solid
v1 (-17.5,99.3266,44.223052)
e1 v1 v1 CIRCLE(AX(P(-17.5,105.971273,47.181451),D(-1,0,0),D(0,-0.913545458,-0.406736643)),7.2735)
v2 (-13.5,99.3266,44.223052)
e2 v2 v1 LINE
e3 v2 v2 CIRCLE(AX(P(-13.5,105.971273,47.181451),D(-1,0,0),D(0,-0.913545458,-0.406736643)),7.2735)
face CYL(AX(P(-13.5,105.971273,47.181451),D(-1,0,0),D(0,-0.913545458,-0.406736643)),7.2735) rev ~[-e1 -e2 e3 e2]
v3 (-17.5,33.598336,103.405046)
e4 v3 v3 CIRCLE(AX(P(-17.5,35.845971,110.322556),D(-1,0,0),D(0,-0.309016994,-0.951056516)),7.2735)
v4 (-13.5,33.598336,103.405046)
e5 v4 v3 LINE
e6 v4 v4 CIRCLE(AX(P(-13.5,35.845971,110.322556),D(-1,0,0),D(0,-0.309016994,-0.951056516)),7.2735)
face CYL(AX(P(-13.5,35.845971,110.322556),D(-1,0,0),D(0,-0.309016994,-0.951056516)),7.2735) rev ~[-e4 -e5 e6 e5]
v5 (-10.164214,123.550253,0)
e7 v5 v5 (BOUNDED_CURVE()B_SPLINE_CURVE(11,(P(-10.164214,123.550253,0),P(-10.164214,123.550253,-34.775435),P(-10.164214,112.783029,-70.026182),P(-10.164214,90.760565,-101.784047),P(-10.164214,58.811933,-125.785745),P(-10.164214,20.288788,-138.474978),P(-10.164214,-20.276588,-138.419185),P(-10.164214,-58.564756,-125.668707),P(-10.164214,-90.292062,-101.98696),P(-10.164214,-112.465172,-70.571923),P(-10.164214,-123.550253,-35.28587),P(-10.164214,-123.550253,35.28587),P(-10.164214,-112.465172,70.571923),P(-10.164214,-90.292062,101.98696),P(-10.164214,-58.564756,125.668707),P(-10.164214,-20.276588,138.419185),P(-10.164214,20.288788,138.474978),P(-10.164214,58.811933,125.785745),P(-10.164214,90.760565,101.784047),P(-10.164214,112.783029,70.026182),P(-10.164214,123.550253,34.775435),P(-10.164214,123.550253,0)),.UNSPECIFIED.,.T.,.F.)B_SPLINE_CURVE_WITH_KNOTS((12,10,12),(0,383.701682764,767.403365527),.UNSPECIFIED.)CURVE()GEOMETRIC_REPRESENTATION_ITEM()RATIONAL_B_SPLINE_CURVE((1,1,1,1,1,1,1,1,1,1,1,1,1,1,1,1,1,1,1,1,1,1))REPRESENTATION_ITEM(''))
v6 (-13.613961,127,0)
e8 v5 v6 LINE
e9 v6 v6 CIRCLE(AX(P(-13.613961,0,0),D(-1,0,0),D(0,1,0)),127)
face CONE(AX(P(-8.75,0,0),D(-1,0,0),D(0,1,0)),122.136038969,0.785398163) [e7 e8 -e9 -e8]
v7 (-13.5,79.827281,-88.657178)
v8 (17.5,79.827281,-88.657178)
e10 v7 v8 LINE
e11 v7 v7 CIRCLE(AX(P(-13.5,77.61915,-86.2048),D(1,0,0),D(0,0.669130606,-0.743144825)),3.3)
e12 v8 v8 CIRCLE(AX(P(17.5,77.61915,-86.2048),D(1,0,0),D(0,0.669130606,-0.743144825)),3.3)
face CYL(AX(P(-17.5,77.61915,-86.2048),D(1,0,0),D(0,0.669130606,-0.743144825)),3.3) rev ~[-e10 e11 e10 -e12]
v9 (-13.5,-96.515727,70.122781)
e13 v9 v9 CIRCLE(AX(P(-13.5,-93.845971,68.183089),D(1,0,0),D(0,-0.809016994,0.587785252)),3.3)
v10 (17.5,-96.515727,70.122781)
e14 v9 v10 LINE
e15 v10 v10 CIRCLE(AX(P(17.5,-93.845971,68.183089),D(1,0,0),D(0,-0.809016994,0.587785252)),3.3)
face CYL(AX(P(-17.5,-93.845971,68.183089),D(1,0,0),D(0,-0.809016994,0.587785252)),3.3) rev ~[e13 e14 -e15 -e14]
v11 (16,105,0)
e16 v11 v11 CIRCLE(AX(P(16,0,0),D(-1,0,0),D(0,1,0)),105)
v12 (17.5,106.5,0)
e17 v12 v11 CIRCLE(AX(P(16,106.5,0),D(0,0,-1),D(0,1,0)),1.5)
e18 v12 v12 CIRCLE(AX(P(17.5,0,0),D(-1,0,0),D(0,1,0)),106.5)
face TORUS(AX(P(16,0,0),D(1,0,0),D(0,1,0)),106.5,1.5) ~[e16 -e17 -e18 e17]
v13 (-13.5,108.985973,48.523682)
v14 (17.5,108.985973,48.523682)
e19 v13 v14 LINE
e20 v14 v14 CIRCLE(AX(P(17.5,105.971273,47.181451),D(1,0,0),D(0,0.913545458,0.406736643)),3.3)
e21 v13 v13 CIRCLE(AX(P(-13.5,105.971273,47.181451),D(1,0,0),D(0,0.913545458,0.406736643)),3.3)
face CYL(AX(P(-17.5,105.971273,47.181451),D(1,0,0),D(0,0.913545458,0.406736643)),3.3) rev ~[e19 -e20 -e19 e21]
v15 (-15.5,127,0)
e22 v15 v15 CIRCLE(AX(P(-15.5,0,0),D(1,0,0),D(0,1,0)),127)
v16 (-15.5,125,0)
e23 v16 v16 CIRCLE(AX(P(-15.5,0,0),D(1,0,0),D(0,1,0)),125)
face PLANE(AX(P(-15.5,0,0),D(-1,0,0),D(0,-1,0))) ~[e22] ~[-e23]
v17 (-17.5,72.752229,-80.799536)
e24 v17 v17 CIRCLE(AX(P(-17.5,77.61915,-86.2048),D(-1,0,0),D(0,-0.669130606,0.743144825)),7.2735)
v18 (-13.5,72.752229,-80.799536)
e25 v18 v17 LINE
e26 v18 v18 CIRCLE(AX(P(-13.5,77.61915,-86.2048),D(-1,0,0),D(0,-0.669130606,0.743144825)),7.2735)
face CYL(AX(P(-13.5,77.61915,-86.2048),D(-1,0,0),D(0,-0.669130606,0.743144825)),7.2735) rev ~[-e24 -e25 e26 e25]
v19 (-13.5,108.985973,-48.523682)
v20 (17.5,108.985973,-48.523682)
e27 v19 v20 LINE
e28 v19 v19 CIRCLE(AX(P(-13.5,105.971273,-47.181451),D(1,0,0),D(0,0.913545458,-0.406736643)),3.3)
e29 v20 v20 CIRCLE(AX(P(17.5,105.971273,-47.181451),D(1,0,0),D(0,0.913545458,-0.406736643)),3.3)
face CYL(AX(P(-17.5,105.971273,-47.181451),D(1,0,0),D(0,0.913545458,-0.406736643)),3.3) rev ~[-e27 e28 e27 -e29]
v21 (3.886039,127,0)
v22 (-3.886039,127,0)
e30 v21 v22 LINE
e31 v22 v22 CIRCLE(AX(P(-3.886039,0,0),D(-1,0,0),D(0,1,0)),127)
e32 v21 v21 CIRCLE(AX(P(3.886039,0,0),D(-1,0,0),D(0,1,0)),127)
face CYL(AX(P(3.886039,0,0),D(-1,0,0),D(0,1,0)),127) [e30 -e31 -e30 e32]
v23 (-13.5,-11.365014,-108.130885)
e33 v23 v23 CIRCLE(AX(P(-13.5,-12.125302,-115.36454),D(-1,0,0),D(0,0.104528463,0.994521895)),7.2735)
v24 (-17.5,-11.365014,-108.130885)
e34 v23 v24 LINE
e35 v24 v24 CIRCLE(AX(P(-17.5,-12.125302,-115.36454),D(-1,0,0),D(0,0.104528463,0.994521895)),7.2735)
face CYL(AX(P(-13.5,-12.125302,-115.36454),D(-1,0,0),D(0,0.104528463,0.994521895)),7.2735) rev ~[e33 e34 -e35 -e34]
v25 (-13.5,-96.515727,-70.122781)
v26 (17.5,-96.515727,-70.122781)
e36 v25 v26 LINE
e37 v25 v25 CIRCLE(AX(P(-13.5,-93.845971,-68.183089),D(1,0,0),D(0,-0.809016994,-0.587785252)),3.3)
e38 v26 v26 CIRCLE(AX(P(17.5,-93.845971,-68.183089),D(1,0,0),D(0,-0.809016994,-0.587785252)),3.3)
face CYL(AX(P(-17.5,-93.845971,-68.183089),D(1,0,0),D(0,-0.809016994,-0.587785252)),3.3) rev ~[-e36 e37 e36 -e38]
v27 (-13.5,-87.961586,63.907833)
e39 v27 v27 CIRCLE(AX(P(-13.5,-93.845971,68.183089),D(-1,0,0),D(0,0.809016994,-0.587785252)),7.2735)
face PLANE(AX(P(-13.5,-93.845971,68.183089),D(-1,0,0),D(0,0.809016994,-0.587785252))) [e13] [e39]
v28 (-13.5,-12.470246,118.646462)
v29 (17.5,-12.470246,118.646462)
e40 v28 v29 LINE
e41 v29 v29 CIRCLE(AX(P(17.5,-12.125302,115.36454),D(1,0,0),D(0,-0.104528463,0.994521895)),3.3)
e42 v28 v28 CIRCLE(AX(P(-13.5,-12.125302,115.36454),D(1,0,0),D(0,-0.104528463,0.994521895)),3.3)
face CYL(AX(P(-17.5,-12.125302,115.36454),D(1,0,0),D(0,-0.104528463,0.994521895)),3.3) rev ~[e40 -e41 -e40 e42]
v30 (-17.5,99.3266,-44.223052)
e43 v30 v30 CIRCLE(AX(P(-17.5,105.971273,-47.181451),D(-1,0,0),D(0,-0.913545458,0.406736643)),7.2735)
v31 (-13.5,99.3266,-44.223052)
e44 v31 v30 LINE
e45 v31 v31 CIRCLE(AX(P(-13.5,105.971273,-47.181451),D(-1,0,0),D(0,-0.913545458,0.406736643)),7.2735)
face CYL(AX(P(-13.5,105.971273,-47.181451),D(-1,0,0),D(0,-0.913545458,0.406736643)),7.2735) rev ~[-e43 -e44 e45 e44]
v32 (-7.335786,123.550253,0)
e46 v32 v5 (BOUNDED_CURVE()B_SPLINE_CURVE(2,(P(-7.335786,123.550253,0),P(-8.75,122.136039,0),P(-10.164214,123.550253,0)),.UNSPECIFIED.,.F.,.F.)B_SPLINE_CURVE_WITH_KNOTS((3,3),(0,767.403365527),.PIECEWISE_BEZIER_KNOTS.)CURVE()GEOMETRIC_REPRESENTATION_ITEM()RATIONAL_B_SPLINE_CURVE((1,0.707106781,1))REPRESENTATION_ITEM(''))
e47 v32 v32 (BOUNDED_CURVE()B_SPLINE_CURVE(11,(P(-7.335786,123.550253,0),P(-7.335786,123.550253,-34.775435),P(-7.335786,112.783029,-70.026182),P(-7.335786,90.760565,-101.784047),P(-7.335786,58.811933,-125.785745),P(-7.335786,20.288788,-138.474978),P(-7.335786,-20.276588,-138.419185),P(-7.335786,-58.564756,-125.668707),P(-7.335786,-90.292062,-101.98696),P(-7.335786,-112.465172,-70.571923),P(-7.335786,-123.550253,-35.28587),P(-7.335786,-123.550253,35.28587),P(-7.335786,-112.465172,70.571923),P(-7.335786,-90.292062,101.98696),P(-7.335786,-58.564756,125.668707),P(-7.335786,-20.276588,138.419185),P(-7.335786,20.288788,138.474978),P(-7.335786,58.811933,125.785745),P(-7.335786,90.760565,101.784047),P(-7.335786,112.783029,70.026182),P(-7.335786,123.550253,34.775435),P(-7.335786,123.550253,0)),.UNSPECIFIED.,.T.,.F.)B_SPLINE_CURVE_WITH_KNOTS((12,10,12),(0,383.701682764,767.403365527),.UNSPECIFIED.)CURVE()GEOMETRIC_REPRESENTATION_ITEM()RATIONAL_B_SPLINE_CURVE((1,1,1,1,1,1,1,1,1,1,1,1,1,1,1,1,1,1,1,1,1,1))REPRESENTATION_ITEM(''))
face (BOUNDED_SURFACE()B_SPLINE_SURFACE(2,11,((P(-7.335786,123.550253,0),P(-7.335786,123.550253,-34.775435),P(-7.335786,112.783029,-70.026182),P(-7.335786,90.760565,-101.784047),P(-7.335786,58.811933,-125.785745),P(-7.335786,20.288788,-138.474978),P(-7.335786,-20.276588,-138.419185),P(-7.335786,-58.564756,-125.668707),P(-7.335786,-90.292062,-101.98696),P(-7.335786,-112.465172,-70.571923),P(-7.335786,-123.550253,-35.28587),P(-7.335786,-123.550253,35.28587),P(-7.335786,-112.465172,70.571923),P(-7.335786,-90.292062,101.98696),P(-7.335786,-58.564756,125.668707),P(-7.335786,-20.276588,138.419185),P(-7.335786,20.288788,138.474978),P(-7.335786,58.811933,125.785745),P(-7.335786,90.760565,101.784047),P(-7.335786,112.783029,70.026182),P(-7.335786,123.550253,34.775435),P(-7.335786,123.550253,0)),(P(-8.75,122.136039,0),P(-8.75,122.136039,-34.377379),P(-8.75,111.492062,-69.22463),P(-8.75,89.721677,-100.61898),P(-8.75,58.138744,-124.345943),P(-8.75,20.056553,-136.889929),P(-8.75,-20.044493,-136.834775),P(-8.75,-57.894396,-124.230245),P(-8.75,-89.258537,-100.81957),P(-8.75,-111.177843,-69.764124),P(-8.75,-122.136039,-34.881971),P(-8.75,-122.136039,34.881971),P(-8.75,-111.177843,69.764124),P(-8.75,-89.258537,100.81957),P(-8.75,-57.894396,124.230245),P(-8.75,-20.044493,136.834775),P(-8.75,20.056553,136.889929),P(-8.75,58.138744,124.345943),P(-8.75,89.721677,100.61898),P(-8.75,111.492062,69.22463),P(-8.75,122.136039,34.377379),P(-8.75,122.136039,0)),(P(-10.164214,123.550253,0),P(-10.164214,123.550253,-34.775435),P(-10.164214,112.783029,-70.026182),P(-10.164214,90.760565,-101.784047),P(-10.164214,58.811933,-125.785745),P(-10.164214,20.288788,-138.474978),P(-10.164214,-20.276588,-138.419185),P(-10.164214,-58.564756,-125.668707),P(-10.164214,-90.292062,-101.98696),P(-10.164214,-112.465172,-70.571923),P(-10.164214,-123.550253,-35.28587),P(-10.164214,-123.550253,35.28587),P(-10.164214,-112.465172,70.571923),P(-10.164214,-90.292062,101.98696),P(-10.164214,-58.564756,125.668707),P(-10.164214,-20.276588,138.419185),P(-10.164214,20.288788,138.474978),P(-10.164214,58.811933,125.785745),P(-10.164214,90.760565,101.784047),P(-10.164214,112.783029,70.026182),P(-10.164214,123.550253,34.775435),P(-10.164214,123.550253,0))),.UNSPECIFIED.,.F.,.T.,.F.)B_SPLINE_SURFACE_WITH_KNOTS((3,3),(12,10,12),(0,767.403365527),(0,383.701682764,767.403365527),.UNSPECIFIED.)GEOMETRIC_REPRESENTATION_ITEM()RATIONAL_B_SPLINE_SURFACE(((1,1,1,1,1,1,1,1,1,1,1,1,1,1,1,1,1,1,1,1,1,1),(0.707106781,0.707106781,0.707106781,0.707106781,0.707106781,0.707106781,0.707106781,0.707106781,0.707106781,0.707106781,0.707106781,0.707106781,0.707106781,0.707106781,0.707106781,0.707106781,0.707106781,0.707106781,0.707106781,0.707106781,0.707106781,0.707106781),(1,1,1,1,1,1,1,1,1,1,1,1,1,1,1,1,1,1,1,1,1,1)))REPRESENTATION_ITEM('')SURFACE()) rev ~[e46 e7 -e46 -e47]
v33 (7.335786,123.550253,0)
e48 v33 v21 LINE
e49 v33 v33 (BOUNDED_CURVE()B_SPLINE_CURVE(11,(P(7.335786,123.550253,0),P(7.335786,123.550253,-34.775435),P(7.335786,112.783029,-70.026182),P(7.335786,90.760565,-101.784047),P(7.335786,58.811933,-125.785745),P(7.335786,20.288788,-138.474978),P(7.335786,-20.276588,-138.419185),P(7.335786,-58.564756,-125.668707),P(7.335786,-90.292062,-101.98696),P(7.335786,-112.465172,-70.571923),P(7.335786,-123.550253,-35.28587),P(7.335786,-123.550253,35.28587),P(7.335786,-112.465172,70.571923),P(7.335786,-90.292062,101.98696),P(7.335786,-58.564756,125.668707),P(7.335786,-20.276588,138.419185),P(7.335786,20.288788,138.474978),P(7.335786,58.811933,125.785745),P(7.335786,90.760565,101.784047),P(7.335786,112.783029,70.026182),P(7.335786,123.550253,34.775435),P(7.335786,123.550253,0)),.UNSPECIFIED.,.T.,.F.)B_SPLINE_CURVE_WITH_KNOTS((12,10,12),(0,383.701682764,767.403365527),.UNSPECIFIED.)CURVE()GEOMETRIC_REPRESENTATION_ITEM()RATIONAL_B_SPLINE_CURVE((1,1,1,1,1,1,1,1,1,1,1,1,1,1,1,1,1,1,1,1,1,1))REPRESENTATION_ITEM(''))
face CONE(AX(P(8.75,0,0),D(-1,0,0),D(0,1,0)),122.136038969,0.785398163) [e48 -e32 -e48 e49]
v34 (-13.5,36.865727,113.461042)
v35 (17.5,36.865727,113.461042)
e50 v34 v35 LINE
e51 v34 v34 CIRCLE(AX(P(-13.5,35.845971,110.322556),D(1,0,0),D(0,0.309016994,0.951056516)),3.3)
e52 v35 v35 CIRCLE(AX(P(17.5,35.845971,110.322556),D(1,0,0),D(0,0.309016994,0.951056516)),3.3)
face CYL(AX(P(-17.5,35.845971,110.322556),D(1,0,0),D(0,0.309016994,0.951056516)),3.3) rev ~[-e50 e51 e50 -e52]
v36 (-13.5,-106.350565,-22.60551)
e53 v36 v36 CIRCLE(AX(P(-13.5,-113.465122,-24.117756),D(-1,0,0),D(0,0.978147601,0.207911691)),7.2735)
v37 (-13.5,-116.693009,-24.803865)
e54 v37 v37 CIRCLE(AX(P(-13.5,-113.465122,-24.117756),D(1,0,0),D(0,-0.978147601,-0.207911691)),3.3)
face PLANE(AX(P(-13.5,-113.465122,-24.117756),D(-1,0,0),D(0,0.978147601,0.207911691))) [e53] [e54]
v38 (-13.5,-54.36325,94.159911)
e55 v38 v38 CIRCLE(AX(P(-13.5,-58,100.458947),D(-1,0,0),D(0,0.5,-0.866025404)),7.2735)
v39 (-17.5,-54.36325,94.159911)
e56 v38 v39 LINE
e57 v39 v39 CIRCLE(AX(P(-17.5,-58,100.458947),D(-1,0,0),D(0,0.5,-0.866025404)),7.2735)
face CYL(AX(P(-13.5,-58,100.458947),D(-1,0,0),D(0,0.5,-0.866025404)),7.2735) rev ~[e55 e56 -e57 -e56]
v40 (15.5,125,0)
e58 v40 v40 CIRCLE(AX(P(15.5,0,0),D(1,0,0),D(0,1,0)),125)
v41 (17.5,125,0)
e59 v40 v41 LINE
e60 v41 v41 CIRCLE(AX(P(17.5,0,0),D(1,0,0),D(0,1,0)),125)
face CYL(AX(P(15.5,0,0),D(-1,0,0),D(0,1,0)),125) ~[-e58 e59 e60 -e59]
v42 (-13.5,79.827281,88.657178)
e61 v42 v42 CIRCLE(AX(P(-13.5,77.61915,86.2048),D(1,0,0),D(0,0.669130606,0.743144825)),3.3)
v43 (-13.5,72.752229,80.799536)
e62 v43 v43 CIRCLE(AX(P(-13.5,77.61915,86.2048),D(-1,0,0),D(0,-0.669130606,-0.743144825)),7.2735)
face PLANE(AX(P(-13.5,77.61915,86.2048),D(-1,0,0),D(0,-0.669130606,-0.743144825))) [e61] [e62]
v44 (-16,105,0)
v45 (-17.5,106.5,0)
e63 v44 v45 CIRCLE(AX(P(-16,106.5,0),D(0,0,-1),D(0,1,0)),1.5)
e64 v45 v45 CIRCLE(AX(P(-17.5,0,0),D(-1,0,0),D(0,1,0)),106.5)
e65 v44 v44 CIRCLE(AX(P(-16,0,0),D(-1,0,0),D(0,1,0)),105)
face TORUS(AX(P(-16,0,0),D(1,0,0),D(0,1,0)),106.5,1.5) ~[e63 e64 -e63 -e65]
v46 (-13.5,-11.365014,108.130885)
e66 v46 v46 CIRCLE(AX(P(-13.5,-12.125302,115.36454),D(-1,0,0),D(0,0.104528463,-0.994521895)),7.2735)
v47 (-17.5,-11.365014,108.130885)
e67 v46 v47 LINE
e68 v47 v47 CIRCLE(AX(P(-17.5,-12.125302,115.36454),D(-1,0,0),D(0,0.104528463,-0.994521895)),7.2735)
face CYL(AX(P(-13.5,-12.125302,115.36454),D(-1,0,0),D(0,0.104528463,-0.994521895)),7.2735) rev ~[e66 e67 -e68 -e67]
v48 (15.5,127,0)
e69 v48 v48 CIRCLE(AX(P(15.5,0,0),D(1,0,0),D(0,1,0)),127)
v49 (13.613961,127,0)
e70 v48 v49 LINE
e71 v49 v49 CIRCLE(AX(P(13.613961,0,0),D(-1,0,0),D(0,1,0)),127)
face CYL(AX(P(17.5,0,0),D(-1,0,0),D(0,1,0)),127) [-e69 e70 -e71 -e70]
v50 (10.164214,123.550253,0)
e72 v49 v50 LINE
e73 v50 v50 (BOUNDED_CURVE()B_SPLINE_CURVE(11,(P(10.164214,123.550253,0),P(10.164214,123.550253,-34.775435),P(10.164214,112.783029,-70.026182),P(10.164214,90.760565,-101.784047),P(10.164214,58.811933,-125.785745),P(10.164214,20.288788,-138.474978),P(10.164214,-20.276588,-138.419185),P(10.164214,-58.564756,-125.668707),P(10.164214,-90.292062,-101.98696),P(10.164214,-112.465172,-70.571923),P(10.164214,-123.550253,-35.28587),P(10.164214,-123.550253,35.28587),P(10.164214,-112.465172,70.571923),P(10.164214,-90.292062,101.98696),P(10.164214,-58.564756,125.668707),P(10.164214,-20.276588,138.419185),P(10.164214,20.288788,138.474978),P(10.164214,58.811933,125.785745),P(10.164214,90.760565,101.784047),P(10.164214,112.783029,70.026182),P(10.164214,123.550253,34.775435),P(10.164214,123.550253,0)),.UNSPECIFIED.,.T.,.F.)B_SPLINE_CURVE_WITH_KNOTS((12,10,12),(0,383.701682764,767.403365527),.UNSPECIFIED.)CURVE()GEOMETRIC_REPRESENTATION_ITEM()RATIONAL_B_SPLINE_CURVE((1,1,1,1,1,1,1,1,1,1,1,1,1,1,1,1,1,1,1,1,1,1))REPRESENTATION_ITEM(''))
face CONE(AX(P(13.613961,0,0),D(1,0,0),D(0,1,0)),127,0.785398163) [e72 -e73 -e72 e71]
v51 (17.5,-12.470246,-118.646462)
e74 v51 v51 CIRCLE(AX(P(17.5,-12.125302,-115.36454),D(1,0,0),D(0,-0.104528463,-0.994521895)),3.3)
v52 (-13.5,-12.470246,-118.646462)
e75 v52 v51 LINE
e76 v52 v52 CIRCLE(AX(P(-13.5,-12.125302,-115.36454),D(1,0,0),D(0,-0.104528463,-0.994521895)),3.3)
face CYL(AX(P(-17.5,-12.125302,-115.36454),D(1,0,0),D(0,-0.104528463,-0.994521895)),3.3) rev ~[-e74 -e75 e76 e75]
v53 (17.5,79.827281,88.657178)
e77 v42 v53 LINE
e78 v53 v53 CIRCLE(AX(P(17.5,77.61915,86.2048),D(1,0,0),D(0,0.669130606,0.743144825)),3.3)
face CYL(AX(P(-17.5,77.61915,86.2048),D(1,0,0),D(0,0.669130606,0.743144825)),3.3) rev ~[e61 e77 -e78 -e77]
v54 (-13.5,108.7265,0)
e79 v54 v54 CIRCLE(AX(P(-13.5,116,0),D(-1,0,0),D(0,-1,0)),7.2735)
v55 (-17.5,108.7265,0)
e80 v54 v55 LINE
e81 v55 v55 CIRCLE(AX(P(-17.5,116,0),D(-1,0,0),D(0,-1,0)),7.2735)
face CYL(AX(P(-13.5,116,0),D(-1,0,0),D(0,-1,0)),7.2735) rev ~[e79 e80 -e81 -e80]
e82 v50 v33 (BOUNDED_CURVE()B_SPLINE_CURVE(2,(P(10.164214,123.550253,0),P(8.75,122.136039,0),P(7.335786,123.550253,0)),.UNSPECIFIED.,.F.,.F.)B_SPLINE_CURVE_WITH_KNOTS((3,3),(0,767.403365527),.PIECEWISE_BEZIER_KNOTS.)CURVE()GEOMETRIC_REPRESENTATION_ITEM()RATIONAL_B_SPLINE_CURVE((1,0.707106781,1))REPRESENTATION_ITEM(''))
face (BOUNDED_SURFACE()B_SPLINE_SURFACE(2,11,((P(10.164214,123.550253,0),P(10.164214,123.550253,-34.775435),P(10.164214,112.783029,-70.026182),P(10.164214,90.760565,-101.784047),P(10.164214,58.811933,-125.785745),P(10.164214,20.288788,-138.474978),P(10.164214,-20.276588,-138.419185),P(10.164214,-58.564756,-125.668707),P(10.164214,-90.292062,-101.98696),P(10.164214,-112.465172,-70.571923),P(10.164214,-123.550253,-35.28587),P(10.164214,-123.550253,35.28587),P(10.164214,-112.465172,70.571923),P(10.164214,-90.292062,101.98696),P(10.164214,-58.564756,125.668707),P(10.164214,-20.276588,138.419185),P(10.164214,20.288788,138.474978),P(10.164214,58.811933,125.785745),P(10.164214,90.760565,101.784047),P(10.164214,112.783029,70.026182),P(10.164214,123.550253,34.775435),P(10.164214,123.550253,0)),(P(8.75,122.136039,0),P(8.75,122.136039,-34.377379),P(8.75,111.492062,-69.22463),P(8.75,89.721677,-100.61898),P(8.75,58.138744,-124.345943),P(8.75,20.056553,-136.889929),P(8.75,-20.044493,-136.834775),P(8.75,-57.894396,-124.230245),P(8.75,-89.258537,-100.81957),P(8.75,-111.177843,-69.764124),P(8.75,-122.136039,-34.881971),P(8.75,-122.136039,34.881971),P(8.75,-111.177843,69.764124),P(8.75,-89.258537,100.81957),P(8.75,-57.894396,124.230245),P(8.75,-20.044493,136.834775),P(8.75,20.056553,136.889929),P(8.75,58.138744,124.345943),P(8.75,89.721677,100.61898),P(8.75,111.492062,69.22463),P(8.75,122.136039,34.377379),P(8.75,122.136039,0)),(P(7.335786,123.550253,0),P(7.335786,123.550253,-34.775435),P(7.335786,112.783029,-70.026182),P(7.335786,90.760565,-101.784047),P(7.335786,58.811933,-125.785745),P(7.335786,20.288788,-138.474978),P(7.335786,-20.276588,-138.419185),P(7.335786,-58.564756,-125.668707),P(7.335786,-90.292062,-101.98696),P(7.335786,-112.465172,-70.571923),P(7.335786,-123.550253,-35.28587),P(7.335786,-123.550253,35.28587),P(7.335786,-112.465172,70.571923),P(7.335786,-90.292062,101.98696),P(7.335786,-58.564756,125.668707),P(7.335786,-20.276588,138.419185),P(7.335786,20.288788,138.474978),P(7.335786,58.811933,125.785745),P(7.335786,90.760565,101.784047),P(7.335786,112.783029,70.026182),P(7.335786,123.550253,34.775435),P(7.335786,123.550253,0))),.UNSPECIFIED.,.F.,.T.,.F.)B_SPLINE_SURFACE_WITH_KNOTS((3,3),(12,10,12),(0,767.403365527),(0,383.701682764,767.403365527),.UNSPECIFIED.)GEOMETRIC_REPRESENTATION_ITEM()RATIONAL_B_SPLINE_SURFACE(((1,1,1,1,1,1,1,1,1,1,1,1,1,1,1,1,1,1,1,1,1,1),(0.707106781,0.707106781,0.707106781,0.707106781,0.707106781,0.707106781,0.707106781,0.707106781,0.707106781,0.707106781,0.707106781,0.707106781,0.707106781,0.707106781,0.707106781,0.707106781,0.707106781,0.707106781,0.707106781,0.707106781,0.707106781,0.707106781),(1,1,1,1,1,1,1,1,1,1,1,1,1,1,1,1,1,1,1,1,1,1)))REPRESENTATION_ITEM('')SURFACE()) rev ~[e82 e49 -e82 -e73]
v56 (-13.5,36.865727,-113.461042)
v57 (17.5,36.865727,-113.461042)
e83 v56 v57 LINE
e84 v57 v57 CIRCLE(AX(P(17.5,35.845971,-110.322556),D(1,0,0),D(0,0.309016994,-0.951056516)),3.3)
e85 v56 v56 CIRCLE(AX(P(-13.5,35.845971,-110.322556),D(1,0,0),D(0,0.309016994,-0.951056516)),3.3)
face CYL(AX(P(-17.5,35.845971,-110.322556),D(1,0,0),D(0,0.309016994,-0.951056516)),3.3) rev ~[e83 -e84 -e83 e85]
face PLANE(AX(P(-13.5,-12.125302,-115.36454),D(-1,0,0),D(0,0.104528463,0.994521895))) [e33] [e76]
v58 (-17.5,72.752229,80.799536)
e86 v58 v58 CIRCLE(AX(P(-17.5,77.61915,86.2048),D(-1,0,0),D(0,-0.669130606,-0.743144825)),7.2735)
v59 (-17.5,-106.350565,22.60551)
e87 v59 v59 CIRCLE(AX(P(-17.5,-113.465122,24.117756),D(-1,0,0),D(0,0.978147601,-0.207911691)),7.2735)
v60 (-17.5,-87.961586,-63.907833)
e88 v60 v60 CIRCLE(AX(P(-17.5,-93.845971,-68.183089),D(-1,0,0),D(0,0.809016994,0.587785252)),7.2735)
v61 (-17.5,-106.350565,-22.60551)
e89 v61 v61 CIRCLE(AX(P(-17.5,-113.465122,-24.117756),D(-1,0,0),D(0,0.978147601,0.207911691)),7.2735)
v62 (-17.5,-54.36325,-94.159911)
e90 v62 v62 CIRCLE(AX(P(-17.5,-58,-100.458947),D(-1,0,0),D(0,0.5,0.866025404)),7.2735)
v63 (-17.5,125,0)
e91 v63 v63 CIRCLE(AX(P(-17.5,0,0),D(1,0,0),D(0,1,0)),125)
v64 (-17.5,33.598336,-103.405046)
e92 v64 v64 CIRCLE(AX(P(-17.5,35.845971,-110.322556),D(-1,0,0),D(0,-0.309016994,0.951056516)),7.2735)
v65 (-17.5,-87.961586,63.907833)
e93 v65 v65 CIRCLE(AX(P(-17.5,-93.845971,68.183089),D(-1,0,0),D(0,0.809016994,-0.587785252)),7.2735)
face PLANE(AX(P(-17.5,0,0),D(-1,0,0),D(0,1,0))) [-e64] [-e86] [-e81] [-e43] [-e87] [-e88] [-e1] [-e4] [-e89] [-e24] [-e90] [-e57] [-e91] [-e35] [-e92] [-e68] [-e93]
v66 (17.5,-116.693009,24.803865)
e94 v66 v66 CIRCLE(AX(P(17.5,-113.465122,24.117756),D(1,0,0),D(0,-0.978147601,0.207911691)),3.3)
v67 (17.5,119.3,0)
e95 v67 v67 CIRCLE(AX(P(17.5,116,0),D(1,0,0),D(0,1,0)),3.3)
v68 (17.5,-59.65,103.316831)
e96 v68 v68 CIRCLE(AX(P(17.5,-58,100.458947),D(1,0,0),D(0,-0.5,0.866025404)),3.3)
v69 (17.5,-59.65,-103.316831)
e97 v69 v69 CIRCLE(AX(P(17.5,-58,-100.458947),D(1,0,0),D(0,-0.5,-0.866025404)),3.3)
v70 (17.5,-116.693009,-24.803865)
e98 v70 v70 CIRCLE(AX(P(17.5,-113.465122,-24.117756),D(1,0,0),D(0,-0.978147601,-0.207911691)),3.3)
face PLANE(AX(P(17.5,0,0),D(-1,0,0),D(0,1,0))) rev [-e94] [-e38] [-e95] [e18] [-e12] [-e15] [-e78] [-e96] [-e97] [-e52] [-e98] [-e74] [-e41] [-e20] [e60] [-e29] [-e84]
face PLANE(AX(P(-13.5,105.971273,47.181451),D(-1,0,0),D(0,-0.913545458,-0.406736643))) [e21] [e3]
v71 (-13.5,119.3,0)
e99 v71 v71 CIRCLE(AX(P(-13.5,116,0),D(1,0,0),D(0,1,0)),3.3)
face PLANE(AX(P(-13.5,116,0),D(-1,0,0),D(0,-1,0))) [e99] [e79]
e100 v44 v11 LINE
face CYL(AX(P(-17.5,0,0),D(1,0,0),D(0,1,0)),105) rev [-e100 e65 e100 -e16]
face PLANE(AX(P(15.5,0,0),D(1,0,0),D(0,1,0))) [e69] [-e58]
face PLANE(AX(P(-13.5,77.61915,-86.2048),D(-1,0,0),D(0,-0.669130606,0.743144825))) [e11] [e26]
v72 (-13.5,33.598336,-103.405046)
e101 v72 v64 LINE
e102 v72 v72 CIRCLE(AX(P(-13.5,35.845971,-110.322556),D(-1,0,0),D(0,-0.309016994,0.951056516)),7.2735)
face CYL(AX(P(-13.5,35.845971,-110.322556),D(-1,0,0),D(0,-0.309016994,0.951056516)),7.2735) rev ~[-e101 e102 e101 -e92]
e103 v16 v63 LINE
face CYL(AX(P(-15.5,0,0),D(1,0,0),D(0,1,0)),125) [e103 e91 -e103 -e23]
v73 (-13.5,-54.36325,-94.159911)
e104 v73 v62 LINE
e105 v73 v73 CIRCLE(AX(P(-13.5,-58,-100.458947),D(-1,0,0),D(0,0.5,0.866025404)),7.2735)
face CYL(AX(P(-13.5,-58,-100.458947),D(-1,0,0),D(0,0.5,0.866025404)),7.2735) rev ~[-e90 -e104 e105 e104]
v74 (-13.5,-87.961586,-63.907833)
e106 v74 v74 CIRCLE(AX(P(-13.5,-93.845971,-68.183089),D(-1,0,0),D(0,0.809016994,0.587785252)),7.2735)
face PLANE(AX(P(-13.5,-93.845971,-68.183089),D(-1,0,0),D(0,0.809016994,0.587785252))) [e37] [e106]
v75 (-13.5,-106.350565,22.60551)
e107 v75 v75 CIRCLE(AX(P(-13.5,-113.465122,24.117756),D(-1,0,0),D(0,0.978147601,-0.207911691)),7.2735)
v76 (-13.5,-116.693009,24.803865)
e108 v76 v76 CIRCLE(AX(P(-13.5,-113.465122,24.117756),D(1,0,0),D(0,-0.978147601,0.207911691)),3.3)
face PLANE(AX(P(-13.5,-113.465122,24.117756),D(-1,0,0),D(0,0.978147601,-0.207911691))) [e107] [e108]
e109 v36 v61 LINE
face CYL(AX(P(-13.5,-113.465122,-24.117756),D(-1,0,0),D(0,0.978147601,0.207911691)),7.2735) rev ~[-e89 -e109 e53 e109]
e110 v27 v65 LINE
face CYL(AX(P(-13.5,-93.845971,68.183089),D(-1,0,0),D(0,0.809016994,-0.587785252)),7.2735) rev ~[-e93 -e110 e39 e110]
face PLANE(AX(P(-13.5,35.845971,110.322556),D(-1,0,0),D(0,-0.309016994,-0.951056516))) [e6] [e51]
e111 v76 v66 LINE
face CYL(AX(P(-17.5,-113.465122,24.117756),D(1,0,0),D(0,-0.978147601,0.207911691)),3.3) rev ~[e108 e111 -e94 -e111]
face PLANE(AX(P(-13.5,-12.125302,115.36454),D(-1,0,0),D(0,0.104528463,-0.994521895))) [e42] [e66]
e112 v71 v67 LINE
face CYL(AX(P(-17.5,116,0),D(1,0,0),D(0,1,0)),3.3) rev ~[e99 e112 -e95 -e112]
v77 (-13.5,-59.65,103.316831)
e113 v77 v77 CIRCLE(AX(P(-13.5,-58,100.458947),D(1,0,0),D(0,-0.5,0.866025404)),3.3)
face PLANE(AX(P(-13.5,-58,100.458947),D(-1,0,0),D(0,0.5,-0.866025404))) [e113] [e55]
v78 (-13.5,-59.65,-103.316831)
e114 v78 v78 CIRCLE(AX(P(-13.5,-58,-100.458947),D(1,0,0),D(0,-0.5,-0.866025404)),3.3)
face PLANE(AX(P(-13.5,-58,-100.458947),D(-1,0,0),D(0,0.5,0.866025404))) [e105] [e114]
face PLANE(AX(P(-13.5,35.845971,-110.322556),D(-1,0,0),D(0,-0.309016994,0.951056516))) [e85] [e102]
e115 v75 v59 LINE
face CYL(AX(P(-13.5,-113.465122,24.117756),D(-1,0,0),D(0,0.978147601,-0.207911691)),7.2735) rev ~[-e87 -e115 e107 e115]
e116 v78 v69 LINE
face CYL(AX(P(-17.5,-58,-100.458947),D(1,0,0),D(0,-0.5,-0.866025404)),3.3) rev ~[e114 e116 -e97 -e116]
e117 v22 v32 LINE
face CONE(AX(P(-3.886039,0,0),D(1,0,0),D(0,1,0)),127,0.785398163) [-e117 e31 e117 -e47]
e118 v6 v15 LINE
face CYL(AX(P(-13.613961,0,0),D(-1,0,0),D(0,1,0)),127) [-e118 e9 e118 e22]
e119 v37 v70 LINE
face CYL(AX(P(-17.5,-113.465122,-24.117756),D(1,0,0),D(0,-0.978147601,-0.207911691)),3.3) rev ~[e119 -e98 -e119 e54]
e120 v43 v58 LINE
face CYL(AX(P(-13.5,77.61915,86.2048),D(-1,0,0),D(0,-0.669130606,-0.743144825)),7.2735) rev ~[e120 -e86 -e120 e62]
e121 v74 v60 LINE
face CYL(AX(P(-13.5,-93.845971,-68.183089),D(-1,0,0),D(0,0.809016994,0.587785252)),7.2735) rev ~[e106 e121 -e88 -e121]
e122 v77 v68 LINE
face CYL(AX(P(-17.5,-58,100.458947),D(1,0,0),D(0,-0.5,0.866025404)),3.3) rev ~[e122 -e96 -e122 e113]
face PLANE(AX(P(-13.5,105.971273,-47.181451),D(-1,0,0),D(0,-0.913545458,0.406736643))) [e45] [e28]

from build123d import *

# Parameters (mm, degrees)
FILLET1_R                               = 2
CBORE_FOR_M6_HEX_HEAD_BOLT1_D           = 6.6
CBORE_FOR_M6_HEX_HEAD_BOLT1_CBORE_D     = 14.547
CBORE_FOR_M6_HEX_HEAD_BOLT1_CBORE_DEPTH = 4
CIRPATTERN1_COUNT                       = 15
CUT_EXTRUDE2_START                      = -2
SKETCH7_R                               = 127
SKETCH7_R_2                             = 125
CUT_EXTRUDE2_DEPTH                      = 2
FILLET2_R                               = 1.5


with BuildPart() as part:
    # Sketch2 → Revolve1 (revolve)
    with BuildSketch(Plane.XY):
        Polygon((17.5, 105), (17.5, 127), (13.613961031, 127), (8.75, 122.136038969), (3.886038969, 127), (-3.886038969, 127), (-8.75, 122.136038969), (-13.613961031, 127), (-17.5, 127), (-17.5, 105), align=None)
    revolve(axis=Axis((0, 0, 0), (-1, 0, 0)))

    # Fillet1
    fillet1_edges = [part.edges().sort_by_distance(p)[0] for p in [
        (-8.75, -122.136038969, 0),
        (8.75, -122.136038969, 0),
    ]]
    fillet(fillet1_edges, radius=FILLET1_R)

    # CBORE for M6 Hex Head Bolt1 (through all)
    with Locations(Plane(origin=(-17.5, 116, 0), x_dir=(0, -1, 0), z_dir=(-1, 0, 0))):
        with Locations((0, 0)):
            cbore_for_m6_hex_head_bolt1 = CounterBoreHole(CBORE_FOR_M6_HEX_HEAD_BOLT1_D / 2, CBORE_FOR_M6_HEX_HEAD_BOLT1_CBORE_D / 2, CBORE_FOR_M6_HEX_HEAD_BOLT1_CBORE_DEPTH)

    # CirPattern1: CBORE for M6 Hex Head Bolt1 ×15 about axis
    cirpattern1_axis = Axis((0, 0, 0), (1, 0, 0))
    for i in range(1, CIRPATTERN1_COUNT):
        add(cbore_for_m6_hex_head_bolt1.rotate(cirpattern1_axis, i * 360 / CIRPATTERN1_COUNT), mode=Mode.SUBTRACT)

    # Sketch7 → Cut-Extrude2 (cut)
    with BuildSketch(Plane(origin=(17.5, 0, 0), x_dir=(0, 0, -1), z_dir=(1, 0, 0)).offset(CUT_EXTRUDE2_START)):
        with Locations(Location((0, 0, 0), (0, 0, 90))):
            Circle(SKETCH7_R)
        with Locations(Location((0, 0, 0), (0, 0, 90))):
            Circle(SKETCH7_R_2, mode=Mode.SUBTRACT)
    cut_extrude2 = extrude(amount=CUT_EXTRUDE2_DEPTH, mode=Mode.SUBTRACT)

    # Mirror1: Cut-Extrude2 across plane
    add(cut_extrude2.mirror(Plane(origin=(0, 0, 0), x_dir=(0, 0, 1), z_dir=(1, 0, 0))), mode=Mode.SUBTRACT)

    # Fillet2
    fillet2_edges = [part.edges().sort_by_distance(p)[0] for p in [
        (-17.5, -105, 0),
        (17.5, -105, 0),
    ]]
    fillet(fillet2_edges, radius=FILLET2_R)


solid = part.part
